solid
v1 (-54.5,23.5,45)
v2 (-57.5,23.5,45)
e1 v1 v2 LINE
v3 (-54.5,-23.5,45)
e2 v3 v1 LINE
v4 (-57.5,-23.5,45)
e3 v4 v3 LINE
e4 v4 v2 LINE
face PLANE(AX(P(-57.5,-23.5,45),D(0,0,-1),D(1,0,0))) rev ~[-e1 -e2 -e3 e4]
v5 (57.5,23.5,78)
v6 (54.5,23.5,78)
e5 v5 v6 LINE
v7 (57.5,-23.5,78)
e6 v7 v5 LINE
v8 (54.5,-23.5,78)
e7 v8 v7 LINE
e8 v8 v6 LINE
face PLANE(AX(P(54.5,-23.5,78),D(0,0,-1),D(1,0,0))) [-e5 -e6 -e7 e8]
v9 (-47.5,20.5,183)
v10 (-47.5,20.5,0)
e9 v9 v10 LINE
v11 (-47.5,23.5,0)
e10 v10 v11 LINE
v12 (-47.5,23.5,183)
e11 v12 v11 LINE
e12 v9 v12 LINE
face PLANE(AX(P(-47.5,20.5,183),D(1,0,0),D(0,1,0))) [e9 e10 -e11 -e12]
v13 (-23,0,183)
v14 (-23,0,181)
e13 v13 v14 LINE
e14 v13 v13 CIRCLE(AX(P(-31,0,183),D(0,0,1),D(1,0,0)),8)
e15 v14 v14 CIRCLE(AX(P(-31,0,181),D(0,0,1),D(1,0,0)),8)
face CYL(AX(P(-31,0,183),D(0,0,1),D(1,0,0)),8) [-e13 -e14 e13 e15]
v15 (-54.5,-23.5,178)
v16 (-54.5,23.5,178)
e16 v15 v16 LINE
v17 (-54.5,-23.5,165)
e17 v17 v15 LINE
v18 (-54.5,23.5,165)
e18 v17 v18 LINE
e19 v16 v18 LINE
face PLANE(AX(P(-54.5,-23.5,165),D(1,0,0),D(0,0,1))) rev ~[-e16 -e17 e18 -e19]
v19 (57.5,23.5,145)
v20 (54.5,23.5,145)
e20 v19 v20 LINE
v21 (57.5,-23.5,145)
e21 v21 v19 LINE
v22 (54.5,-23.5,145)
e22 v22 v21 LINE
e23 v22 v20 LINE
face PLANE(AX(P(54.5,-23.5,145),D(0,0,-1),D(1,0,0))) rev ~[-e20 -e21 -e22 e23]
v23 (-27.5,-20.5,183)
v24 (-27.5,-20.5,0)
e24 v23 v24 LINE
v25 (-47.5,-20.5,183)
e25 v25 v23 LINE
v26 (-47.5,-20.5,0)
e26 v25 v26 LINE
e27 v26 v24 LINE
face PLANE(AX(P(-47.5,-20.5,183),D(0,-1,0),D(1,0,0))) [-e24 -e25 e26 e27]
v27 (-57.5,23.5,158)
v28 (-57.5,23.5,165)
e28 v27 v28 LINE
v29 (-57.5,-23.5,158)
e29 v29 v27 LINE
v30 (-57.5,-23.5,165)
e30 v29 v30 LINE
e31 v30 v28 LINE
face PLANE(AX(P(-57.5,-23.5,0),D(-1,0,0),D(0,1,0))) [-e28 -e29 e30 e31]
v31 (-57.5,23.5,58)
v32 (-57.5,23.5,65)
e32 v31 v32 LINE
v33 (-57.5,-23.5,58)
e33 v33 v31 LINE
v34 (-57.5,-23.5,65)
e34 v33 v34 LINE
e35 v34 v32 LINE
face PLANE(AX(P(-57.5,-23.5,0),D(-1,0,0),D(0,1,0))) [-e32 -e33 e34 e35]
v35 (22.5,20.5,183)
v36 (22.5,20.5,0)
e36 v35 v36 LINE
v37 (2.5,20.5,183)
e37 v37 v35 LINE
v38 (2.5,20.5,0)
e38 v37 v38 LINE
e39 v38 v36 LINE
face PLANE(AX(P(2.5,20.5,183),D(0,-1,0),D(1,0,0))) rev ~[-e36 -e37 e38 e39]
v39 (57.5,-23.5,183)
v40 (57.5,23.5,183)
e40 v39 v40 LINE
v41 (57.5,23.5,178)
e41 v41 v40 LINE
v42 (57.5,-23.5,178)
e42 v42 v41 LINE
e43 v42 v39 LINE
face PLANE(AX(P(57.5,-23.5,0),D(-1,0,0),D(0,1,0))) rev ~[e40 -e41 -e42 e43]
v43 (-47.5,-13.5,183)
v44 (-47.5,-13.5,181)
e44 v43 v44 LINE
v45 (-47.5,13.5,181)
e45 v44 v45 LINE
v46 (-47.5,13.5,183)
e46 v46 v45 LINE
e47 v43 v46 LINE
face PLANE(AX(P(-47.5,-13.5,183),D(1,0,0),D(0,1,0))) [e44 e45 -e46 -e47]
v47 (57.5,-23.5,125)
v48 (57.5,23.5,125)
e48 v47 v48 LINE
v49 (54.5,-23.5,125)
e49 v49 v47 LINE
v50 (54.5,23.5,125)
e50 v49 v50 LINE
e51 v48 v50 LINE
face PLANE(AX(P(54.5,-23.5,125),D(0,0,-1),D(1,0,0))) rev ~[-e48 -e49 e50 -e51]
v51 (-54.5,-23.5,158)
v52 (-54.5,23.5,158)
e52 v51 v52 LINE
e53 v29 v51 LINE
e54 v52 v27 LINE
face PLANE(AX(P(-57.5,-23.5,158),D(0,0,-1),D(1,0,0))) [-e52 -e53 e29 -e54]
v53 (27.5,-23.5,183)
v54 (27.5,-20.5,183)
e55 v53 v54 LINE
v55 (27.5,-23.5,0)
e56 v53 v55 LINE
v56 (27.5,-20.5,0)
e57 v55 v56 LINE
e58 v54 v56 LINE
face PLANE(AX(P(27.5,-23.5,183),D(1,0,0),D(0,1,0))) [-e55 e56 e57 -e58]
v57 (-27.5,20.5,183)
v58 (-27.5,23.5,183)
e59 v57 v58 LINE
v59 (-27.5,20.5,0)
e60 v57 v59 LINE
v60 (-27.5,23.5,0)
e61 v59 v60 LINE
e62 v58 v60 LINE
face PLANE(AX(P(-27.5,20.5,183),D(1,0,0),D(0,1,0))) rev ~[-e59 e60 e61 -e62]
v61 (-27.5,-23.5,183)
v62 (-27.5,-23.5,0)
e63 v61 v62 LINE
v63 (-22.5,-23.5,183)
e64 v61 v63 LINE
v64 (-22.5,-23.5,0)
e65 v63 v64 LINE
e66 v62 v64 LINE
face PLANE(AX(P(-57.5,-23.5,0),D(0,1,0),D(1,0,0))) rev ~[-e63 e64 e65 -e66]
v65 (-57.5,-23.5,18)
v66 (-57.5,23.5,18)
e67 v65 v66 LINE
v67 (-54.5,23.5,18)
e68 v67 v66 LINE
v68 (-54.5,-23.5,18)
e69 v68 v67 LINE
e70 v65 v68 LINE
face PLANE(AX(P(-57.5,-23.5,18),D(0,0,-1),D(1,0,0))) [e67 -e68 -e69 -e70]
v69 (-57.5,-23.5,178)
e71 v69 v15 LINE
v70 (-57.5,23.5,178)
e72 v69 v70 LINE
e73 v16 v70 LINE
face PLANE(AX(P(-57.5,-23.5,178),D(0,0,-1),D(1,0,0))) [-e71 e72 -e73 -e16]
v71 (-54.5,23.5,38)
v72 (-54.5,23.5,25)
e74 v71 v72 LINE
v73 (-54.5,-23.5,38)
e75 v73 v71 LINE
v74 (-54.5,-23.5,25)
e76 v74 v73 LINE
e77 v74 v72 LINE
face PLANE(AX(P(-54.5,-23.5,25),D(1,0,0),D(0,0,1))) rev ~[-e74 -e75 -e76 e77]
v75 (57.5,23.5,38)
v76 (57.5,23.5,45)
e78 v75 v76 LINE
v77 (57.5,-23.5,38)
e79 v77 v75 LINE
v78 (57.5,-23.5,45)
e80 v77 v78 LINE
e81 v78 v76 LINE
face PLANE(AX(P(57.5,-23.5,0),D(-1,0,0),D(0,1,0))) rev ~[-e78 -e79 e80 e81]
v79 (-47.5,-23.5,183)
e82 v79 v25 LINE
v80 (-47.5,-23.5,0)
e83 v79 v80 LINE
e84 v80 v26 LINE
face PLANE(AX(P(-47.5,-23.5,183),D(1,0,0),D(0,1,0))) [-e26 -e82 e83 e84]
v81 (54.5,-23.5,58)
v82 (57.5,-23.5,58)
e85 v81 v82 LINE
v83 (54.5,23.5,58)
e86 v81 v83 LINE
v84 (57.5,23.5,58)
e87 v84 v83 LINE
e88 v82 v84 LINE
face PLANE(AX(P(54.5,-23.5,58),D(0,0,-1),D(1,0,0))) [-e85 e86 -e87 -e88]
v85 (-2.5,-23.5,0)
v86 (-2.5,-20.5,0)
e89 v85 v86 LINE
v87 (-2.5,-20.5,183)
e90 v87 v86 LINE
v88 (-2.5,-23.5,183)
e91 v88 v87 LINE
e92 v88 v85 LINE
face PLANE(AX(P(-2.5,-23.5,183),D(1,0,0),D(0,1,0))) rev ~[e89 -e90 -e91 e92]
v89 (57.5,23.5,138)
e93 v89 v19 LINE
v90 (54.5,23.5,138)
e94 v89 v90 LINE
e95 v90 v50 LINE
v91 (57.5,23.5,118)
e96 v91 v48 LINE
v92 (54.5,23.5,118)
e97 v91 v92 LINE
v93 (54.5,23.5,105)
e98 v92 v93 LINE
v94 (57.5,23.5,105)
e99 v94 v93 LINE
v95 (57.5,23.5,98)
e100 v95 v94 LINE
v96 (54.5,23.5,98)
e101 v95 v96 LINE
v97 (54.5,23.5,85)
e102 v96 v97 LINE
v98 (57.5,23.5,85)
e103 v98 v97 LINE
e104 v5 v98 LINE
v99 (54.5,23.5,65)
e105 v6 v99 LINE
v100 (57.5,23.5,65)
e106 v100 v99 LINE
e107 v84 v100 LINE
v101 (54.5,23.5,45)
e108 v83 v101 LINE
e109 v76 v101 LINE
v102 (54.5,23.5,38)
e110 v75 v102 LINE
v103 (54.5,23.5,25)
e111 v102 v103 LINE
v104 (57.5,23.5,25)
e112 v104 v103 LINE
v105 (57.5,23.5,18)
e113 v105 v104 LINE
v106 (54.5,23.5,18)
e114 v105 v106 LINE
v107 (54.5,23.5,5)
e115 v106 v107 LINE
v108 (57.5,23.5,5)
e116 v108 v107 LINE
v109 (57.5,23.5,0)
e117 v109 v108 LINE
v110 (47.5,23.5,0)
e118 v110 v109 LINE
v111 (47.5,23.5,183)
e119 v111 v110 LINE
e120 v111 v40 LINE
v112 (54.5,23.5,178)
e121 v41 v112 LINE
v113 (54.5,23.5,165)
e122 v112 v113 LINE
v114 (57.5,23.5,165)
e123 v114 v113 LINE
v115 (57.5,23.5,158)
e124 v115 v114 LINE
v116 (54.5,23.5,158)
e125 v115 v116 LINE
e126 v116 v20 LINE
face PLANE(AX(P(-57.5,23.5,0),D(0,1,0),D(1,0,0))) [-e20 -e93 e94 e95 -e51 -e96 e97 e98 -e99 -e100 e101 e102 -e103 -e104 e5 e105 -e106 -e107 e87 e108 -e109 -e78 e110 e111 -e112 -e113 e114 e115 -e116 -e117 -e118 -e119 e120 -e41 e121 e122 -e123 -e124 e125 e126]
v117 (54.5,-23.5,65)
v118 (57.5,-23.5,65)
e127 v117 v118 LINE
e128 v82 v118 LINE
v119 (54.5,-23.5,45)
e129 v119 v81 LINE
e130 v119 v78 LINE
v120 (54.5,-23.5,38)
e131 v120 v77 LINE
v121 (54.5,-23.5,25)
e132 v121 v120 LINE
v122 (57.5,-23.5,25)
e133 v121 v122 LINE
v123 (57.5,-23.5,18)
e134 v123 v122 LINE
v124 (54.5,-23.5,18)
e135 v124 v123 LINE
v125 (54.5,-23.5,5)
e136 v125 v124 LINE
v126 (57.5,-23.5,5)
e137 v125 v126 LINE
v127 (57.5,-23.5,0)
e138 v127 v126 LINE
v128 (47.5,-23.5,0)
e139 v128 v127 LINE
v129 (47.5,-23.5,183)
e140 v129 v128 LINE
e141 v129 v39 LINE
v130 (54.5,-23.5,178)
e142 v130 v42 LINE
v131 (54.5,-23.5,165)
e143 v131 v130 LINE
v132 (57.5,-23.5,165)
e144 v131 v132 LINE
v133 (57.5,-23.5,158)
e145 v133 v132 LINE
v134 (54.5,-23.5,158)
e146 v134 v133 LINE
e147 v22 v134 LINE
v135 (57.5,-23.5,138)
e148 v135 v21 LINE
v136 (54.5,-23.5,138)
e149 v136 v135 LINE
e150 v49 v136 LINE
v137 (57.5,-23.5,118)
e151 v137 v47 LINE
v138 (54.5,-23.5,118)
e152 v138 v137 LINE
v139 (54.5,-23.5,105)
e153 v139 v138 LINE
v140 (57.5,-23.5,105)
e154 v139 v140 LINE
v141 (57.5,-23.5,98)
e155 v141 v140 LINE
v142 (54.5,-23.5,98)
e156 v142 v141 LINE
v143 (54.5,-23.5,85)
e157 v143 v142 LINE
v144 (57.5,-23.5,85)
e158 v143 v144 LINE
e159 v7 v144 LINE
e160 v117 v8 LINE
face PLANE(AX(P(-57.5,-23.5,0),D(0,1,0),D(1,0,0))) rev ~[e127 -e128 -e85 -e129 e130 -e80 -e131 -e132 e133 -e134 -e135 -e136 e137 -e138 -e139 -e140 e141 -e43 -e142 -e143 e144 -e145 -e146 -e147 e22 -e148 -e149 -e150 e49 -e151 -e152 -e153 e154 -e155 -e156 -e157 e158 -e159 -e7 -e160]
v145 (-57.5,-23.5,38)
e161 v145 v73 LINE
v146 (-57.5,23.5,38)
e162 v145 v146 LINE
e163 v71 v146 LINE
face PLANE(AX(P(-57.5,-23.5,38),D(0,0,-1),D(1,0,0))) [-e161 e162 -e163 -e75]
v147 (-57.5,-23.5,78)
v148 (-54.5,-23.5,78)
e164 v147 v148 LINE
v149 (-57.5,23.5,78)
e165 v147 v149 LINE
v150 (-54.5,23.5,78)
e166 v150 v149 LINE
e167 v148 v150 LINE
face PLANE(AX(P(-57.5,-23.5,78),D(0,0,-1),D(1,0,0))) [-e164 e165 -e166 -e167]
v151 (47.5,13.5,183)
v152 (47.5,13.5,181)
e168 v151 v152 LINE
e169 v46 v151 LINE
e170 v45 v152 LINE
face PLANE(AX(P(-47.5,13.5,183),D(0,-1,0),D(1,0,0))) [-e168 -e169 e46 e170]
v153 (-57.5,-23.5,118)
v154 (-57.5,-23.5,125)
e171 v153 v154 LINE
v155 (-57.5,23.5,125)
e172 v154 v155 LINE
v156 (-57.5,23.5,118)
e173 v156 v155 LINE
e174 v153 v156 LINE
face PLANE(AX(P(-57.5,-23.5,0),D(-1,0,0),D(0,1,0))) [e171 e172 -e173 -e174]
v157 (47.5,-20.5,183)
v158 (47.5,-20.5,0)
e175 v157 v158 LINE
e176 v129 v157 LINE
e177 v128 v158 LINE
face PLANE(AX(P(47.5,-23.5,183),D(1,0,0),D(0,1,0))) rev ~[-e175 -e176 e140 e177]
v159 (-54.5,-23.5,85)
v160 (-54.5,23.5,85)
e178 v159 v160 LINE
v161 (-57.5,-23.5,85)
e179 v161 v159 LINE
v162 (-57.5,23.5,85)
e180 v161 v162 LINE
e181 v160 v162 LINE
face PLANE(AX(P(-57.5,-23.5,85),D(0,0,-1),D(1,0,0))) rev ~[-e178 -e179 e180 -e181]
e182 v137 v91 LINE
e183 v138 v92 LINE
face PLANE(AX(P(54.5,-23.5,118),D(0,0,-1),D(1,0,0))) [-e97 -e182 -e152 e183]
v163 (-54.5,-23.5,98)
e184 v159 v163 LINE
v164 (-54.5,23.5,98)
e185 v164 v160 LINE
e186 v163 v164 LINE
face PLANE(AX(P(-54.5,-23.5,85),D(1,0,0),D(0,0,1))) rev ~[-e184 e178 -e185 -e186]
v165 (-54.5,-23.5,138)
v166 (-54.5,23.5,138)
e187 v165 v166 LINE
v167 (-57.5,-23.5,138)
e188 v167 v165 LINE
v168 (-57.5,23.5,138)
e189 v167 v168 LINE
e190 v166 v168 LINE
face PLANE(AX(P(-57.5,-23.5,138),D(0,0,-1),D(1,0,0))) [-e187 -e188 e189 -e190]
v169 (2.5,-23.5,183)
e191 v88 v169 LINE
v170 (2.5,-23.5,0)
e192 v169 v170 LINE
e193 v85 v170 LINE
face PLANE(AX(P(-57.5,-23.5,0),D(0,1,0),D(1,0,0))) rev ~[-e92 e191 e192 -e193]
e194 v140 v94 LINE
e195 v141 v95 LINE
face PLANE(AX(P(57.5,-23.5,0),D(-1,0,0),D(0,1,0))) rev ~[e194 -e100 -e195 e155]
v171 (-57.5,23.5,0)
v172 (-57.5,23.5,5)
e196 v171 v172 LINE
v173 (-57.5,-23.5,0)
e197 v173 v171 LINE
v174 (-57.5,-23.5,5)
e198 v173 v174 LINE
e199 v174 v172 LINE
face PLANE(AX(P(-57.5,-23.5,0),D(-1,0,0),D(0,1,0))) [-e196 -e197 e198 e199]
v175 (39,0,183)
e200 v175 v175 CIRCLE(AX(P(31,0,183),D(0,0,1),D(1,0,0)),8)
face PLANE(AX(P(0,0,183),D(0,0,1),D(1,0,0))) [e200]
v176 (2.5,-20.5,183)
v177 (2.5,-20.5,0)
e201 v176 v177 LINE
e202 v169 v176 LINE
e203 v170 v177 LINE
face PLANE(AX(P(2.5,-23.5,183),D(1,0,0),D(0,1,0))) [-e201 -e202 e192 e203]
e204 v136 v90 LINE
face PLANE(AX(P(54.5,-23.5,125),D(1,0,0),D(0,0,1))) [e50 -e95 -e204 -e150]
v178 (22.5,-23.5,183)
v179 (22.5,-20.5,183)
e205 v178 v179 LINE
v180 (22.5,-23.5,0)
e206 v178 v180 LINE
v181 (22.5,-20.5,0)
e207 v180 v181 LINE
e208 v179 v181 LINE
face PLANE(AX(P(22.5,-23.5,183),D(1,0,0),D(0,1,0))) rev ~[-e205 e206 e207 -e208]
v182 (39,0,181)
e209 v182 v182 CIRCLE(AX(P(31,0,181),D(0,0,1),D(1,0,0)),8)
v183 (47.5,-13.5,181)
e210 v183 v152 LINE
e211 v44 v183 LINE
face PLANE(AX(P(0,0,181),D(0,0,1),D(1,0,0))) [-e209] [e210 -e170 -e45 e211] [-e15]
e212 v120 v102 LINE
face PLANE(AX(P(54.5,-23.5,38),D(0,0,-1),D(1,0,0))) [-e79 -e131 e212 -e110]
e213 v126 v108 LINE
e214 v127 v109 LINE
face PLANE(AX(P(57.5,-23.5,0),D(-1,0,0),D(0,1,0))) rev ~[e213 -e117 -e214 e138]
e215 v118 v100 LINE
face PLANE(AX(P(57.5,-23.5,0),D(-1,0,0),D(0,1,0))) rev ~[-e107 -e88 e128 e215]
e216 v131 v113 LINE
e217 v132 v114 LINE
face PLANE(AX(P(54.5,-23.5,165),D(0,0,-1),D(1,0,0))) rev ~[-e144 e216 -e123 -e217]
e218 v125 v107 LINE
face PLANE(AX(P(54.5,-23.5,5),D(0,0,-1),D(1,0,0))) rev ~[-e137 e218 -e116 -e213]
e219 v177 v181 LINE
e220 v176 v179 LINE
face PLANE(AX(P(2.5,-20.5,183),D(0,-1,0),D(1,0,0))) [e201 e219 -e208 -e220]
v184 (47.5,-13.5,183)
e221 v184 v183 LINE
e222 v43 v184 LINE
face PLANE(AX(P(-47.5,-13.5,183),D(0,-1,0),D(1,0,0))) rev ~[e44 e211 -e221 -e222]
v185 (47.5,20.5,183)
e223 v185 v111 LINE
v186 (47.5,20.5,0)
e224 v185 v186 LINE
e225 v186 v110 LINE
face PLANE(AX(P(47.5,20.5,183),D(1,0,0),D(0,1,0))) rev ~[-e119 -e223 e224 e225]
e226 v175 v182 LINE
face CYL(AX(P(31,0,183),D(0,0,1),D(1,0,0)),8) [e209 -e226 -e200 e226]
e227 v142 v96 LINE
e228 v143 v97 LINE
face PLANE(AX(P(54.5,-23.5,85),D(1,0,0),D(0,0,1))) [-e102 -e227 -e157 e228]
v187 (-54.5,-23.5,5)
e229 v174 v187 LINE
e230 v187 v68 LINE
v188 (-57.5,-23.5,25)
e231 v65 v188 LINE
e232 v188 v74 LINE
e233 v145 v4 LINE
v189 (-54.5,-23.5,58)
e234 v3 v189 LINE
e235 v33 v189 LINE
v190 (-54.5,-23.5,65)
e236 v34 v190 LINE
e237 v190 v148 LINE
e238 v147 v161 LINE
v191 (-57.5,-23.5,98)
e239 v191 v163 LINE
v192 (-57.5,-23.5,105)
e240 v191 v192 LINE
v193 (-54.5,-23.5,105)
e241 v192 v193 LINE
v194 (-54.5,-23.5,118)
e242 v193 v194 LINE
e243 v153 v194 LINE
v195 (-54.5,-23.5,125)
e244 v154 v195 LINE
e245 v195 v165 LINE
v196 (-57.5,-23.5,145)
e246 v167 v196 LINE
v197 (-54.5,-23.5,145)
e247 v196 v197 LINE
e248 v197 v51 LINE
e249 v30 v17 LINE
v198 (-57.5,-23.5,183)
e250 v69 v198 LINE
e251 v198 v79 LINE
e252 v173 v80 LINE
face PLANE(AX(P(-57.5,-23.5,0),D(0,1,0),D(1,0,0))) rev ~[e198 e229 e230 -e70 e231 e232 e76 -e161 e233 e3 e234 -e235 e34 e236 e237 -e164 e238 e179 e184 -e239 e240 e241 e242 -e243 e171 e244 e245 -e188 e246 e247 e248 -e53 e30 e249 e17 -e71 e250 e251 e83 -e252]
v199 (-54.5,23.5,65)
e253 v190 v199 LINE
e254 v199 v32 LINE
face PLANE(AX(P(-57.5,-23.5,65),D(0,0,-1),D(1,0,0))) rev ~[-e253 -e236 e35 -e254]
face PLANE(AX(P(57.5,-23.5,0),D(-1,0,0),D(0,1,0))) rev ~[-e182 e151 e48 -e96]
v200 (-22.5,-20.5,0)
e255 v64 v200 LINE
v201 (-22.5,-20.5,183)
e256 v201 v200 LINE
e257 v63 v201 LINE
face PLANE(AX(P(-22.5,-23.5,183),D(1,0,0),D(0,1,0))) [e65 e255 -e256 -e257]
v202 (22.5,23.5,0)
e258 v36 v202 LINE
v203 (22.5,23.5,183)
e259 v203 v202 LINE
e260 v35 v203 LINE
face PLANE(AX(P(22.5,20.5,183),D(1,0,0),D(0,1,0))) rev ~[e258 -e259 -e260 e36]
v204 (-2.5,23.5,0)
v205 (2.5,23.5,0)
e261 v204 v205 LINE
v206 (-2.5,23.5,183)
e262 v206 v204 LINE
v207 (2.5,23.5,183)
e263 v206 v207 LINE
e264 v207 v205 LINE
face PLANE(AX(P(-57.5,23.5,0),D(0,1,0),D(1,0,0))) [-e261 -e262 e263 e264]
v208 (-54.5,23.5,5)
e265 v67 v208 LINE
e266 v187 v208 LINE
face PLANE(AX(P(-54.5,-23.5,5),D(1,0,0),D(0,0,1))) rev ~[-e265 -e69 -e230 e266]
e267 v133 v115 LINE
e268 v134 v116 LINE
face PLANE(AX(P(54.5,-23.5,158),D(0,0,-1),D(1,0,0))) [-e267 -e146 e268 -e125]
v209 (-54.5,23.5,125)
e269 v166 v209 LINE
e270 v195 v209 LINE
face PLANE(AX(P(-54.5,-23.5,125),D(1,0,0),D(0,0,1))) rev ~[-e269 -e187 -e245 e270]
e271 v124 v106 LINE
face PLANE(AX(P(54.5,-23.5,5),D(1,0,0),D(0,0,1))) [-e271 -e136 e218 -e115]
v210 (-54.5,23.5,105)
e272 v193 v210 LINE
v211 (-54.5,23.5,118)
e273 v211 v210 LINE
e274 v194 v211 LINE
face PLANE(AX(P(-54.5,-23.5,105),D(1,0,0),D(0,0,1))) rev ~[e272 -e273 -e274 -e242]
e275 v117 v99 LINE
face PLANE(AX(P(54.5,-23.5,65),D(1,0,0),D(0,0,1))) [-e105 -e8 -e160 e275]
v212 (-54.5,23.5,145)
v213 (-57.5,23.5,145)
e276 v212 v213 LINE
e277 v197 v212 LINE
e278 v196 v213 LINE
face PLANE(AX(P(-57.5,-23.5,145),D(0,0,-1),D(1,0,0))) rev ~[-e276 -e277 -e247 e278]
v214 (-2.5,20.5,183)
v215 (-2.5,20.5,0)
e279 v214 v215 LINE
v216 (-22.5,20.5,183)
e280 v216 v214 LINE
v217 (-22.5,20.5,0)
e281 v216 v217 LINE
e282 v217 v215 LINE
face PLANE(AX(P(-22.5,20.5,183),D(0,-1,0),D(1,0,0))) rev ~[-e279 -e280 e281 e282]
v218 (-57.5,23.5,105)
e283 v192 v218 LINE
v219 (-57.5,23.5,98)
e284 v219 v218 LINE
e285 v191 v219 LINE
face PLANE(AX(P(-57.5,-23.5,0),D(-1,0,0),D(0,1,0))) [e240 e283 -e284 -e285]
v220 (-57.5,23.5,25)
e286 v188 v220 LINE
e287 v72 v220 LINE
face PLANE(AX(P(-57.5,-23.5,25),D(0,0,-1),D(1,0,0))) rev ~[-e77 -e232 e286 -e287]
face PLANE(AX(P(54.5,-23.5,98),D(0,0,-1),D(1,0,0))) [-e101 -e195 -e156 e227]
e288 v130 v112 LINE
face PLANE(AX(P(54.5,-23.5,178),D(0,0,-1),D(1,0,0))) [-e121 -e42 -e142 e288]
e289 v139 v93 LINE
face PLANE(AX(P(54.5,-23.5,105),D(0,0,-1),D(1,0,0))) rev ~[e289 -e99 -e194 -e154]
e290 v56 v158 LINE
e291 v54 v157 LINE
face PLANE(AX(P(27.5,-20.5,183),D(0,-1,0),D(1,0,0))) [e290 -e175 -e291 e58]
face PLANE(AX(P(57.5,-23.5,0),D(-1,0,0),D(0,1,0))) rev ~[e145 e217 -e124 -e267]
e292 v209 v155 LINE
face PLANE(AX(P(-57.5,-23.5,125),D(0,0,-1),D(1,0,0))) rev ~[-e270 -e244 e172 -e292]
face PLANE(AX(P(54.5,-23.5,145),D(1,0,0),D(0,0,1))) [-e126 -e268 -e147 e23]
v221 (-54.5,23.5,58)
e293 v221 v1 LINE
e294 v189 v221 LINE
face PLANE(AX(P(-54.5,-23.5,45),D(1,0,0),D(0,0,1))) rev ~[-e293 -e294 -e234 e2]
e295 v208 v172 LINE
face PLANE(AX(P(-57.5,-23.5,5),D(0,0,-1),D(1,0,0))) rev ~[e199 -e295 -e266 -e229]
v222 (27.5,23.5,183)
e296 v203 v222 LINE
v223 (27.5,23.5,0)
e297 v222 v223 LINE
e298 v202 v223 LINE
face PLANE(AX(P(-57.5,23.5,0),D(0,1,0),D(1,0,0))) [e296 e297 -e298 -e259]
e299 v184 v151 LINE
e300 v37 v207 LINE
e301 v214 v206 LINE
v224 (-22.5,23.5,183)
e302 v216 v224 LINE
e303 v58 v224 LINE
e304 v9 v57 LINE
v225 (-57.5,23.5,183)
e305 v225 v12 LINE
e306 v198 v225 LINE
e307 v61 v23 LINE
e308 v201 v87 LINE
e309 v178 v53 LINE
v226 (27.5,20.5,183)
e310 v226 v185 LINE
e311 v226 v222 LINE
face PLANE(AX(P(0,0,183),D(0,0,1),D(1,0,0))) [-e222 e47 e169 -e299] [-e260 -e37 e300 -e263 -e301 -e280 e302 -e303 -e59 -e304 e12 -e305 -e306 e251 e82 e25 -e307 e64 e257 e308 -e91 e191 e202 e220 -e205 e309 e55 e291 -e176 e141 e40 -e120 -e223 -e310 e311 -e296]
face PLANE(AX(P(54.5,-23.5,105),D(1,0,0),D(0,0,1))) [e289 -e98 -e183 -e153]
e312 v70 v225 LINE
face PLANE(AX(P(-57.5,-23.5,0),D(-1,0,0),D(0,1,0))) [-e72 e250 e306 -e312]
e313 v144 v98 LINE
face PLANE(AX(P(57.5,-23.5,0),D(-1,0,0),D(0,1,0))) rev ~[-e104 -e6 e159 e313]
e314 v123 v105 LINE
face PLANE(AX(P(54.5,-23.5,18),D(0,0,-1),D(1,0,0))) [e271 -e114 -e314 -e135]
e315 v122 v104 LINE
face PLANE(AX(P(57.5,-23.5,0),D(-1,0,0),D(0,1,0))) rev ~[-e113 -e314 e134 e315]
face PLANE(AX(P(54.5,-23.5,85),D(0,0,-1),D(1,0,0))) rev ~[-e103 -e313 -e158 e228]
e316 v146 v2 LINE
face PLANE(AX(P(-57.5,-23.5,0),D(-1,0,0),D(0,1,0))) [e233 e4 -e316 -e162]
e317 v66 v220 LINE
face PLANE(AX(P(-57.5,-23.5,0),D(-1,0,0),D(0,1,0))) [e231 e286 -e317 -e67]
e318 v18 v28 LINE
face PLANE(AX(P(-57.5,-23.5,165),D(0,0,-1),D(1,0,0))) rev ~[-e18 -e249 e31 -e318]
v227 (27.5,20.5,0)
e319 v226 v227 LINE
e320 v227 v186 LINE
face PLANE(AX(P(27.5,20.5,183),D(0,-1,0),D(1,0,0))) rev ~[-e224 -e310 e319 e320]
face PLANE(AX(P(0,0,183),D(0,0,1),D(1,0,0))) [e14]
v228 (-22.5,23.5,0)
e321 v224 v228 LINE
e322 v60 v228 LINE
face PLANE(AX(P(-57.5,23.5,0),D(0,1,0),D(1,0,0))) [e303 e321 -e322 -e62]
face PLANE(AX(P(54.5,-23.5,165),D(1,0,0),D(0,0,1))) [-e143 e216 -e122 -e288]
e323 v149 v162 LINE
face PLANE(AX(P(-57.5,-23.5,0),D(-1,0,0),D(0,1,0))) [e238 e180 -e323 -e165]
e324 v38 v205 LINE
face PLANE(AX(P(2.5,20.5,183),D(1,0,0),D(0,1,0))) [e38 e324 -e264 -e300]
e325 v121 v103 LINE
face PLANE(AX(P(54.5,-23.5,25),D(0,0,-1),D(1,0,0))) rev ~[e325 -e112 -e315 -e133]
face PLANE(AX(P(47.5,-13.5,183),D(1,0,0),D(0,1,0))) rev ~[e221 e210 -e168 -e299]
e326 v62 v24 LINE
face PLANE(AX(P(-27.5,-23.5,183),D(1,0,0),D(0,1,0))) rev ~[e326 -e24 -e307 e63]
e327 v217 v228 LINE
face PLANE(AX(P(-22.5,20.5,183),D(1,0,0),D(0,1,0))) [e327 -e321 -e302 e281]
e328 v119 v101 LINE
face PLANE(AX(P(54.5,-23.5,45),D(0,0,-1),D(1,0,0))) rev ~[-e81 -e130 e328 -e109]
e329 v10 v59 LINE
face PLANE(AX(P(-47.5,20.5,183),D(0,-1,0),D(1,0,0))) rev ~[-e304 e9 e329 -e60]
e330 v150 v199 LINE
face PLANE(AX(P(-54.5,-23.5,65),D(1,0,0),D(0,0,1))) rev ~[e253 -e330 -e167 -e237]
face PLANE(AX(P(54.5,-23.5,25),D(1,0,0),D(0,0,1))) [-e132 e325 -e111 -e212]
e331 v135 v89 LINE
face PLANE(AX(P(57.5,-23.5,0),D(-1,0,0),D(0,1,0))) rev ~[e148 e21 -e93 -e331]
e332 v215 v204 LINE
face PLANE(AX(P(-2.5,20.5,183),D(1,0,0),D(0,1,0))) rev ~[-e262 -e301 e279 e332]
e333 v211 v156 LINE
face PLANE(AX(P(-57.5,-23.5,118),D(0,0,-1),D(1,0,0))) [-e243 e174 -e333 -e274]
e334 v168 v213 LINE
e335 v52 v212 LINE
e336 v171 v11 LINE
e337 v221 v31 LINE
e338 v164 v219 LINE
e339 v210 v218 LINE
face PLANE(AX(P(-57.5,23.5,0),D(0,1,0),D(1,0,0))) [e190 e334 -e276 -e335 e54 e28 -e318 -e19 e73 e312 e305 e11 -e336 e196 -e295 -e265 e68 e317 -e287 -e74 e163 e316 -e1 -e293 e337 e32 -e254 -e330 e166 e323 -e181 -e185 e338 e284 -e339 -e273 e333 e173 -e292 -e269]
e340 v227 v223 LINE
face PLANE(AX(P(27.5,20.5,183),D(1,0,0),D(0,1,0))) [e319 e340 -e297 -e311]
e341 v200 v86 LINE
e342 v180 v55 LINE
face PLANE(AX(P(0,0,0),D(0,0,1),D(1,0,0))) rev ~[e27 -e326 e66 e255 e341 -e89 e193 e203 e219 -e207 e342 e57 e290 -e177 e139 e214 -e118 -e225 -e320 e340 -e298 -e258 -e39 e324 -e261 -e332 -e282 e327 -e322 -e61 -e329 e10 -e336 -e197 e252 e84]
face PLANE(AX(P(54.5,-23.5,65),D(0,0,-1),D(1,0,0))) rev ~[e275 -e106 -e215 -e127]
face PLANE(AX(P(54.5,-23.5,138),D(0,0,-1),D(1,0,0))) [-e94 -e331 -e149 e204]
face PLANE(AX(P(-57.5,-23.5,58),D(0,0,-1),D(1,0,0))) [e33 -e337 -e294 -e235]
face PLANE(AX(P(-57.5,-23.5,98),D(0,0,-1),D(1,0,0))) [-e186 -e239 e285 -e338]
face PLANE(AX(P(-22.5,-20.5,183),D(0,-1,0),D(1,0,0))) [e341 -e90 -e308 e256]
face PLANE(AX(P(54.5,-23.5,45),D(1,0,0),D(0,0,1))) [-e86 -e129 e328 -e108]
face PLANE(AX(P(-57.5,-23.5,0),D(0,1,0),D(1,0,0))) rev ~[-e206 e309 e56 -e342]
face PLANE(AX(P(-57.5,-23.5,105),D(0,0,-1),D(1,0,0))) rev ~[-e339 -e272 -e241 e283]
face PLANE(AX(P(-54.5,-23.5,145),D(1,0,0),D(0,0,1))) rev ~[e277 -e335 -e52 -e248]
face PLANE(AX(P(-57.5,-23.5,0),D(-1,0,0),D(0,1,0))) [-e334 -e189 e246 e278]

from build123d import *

# Parameters (mm, degrees)
F0_W     = 115
F0_H     = 47
F1_DEPTH = 183
F2_W     = 95
F2_H     = 27
F2_R     = 8
F3_DEPTH = 2
F4_W     = 20
F4_H     = 3
F5_DEPTH = 183.001
F6_W     = 3
F6_H     = 13
F7_DEPTH = 47.001


with BuildPart() as f1:
    # F0 (on Top) → F1 (new body)
    with BuildSketch(Plane.XY):
        Rectangle(F0_W, F0_H)
    extrude(amount=F1_DEPTH)

    # F2 (on face) → F3 (cut)
    with BuildSketch(Plane.XY.offset(183)):
        Rectangle(F2_W, F2_H)
        with Locations((-31, 0)):
            Circle(F2_R, mode=Mode.SUBTRACT)
        with Locations((31, 0)):
            Circle(F2_R, mode=Mode.SUBTRACT)
    extrude(amount=-F3_DEPTH, mode=Mode.SUBTRACT)

    # F4 (on face) → F5 (cut, through all)
    with BuildSketch(Plane.XY.offset(183)):
        with Locations((-37.5, 22)):
            Rectangle(F4_W, F4_H)
        with Locations((-12.5, 22)):
            Rectangle(F4_W, F4_H)
        with Locations((12.5, 22)):
            Rectangle(F4_W, F4_H)
        with Locations((37.5, 22)):
            Rectangle(F4_W, F4_H)
        with Locations((37.5, -22)):
            Rectangle(F4_W, F4_H)
        with Locations((12.5, -22)):
            Rectangle(F4_W, F4_H)
        with Locations((-12.5, -22)):
            Rectangle(F4_W, F4_H)
        with Locations((-37.5, -22)):
            Rectangle(F4_W, F4_H)
    extrude(amount=-F5_DEPTH, mode=Mode.SUBTRACT)

    # F6 (on face) → F7 (cut, through all)
    with BuildSketch(Plane.XZ.offset(23.5)):
        with Locations((-56, 171.5)):
            Rectangle(F6_W, F6_H)
        with Locations((-56, 151.5)):
            Rectangle(F6_W, F6_H)
        with Locations((-56, 131.5)):
            Rectangle(F6_W, F6_H)
        with Locations((-56, 111.5)):
            Rectangle(F6_W, F6_H)
        with Locations((-56, 91.5)):
            Rectangle(F6_W, F6_H)
        with Locations((-56, 71.5)):
            Rectangle(F6_W, F6_H)
        with Locations((-56, 51.5)):
            Rectangle(F6_W, F6_H)
        with Locations((-56, 31.5)):
            Rectangle(F6_W, F6_H)
        with Locations((-56, 11.5)):
            Rectangle(F6_W, F6_H)
        with Locations((56, 171.5)):
            Rectangle(F6_W, F6_H)
        with Locations((56, 151.5)):
            Rectangle(F6_W, F6_H)
        with Locations((56, 131.5)):
            Rectangle(F6_W, F6_H)
        with Locations((56, 111.5)):
            Rectangle(F6_W, F6_H)
        with Locations((56, 91.5)):
            Rectangle(F6_W, F6_H)
        with Locations((56, 11.5)):
            Rectangle(F6_W, F6_H)
        with Locations((56, 51.5)):
            Rectangle(F6_W, F6_H)
        with Locations((56, 71.5)):
            Rectangle(F6_W, F6_H)
        with Locations((56, 31.5)):
            Rectangle(F6_W, F6_H)
    extrude(amount=-F7_DEPTH, mode=Mode.SUBTRACT)


solid = f1.part
